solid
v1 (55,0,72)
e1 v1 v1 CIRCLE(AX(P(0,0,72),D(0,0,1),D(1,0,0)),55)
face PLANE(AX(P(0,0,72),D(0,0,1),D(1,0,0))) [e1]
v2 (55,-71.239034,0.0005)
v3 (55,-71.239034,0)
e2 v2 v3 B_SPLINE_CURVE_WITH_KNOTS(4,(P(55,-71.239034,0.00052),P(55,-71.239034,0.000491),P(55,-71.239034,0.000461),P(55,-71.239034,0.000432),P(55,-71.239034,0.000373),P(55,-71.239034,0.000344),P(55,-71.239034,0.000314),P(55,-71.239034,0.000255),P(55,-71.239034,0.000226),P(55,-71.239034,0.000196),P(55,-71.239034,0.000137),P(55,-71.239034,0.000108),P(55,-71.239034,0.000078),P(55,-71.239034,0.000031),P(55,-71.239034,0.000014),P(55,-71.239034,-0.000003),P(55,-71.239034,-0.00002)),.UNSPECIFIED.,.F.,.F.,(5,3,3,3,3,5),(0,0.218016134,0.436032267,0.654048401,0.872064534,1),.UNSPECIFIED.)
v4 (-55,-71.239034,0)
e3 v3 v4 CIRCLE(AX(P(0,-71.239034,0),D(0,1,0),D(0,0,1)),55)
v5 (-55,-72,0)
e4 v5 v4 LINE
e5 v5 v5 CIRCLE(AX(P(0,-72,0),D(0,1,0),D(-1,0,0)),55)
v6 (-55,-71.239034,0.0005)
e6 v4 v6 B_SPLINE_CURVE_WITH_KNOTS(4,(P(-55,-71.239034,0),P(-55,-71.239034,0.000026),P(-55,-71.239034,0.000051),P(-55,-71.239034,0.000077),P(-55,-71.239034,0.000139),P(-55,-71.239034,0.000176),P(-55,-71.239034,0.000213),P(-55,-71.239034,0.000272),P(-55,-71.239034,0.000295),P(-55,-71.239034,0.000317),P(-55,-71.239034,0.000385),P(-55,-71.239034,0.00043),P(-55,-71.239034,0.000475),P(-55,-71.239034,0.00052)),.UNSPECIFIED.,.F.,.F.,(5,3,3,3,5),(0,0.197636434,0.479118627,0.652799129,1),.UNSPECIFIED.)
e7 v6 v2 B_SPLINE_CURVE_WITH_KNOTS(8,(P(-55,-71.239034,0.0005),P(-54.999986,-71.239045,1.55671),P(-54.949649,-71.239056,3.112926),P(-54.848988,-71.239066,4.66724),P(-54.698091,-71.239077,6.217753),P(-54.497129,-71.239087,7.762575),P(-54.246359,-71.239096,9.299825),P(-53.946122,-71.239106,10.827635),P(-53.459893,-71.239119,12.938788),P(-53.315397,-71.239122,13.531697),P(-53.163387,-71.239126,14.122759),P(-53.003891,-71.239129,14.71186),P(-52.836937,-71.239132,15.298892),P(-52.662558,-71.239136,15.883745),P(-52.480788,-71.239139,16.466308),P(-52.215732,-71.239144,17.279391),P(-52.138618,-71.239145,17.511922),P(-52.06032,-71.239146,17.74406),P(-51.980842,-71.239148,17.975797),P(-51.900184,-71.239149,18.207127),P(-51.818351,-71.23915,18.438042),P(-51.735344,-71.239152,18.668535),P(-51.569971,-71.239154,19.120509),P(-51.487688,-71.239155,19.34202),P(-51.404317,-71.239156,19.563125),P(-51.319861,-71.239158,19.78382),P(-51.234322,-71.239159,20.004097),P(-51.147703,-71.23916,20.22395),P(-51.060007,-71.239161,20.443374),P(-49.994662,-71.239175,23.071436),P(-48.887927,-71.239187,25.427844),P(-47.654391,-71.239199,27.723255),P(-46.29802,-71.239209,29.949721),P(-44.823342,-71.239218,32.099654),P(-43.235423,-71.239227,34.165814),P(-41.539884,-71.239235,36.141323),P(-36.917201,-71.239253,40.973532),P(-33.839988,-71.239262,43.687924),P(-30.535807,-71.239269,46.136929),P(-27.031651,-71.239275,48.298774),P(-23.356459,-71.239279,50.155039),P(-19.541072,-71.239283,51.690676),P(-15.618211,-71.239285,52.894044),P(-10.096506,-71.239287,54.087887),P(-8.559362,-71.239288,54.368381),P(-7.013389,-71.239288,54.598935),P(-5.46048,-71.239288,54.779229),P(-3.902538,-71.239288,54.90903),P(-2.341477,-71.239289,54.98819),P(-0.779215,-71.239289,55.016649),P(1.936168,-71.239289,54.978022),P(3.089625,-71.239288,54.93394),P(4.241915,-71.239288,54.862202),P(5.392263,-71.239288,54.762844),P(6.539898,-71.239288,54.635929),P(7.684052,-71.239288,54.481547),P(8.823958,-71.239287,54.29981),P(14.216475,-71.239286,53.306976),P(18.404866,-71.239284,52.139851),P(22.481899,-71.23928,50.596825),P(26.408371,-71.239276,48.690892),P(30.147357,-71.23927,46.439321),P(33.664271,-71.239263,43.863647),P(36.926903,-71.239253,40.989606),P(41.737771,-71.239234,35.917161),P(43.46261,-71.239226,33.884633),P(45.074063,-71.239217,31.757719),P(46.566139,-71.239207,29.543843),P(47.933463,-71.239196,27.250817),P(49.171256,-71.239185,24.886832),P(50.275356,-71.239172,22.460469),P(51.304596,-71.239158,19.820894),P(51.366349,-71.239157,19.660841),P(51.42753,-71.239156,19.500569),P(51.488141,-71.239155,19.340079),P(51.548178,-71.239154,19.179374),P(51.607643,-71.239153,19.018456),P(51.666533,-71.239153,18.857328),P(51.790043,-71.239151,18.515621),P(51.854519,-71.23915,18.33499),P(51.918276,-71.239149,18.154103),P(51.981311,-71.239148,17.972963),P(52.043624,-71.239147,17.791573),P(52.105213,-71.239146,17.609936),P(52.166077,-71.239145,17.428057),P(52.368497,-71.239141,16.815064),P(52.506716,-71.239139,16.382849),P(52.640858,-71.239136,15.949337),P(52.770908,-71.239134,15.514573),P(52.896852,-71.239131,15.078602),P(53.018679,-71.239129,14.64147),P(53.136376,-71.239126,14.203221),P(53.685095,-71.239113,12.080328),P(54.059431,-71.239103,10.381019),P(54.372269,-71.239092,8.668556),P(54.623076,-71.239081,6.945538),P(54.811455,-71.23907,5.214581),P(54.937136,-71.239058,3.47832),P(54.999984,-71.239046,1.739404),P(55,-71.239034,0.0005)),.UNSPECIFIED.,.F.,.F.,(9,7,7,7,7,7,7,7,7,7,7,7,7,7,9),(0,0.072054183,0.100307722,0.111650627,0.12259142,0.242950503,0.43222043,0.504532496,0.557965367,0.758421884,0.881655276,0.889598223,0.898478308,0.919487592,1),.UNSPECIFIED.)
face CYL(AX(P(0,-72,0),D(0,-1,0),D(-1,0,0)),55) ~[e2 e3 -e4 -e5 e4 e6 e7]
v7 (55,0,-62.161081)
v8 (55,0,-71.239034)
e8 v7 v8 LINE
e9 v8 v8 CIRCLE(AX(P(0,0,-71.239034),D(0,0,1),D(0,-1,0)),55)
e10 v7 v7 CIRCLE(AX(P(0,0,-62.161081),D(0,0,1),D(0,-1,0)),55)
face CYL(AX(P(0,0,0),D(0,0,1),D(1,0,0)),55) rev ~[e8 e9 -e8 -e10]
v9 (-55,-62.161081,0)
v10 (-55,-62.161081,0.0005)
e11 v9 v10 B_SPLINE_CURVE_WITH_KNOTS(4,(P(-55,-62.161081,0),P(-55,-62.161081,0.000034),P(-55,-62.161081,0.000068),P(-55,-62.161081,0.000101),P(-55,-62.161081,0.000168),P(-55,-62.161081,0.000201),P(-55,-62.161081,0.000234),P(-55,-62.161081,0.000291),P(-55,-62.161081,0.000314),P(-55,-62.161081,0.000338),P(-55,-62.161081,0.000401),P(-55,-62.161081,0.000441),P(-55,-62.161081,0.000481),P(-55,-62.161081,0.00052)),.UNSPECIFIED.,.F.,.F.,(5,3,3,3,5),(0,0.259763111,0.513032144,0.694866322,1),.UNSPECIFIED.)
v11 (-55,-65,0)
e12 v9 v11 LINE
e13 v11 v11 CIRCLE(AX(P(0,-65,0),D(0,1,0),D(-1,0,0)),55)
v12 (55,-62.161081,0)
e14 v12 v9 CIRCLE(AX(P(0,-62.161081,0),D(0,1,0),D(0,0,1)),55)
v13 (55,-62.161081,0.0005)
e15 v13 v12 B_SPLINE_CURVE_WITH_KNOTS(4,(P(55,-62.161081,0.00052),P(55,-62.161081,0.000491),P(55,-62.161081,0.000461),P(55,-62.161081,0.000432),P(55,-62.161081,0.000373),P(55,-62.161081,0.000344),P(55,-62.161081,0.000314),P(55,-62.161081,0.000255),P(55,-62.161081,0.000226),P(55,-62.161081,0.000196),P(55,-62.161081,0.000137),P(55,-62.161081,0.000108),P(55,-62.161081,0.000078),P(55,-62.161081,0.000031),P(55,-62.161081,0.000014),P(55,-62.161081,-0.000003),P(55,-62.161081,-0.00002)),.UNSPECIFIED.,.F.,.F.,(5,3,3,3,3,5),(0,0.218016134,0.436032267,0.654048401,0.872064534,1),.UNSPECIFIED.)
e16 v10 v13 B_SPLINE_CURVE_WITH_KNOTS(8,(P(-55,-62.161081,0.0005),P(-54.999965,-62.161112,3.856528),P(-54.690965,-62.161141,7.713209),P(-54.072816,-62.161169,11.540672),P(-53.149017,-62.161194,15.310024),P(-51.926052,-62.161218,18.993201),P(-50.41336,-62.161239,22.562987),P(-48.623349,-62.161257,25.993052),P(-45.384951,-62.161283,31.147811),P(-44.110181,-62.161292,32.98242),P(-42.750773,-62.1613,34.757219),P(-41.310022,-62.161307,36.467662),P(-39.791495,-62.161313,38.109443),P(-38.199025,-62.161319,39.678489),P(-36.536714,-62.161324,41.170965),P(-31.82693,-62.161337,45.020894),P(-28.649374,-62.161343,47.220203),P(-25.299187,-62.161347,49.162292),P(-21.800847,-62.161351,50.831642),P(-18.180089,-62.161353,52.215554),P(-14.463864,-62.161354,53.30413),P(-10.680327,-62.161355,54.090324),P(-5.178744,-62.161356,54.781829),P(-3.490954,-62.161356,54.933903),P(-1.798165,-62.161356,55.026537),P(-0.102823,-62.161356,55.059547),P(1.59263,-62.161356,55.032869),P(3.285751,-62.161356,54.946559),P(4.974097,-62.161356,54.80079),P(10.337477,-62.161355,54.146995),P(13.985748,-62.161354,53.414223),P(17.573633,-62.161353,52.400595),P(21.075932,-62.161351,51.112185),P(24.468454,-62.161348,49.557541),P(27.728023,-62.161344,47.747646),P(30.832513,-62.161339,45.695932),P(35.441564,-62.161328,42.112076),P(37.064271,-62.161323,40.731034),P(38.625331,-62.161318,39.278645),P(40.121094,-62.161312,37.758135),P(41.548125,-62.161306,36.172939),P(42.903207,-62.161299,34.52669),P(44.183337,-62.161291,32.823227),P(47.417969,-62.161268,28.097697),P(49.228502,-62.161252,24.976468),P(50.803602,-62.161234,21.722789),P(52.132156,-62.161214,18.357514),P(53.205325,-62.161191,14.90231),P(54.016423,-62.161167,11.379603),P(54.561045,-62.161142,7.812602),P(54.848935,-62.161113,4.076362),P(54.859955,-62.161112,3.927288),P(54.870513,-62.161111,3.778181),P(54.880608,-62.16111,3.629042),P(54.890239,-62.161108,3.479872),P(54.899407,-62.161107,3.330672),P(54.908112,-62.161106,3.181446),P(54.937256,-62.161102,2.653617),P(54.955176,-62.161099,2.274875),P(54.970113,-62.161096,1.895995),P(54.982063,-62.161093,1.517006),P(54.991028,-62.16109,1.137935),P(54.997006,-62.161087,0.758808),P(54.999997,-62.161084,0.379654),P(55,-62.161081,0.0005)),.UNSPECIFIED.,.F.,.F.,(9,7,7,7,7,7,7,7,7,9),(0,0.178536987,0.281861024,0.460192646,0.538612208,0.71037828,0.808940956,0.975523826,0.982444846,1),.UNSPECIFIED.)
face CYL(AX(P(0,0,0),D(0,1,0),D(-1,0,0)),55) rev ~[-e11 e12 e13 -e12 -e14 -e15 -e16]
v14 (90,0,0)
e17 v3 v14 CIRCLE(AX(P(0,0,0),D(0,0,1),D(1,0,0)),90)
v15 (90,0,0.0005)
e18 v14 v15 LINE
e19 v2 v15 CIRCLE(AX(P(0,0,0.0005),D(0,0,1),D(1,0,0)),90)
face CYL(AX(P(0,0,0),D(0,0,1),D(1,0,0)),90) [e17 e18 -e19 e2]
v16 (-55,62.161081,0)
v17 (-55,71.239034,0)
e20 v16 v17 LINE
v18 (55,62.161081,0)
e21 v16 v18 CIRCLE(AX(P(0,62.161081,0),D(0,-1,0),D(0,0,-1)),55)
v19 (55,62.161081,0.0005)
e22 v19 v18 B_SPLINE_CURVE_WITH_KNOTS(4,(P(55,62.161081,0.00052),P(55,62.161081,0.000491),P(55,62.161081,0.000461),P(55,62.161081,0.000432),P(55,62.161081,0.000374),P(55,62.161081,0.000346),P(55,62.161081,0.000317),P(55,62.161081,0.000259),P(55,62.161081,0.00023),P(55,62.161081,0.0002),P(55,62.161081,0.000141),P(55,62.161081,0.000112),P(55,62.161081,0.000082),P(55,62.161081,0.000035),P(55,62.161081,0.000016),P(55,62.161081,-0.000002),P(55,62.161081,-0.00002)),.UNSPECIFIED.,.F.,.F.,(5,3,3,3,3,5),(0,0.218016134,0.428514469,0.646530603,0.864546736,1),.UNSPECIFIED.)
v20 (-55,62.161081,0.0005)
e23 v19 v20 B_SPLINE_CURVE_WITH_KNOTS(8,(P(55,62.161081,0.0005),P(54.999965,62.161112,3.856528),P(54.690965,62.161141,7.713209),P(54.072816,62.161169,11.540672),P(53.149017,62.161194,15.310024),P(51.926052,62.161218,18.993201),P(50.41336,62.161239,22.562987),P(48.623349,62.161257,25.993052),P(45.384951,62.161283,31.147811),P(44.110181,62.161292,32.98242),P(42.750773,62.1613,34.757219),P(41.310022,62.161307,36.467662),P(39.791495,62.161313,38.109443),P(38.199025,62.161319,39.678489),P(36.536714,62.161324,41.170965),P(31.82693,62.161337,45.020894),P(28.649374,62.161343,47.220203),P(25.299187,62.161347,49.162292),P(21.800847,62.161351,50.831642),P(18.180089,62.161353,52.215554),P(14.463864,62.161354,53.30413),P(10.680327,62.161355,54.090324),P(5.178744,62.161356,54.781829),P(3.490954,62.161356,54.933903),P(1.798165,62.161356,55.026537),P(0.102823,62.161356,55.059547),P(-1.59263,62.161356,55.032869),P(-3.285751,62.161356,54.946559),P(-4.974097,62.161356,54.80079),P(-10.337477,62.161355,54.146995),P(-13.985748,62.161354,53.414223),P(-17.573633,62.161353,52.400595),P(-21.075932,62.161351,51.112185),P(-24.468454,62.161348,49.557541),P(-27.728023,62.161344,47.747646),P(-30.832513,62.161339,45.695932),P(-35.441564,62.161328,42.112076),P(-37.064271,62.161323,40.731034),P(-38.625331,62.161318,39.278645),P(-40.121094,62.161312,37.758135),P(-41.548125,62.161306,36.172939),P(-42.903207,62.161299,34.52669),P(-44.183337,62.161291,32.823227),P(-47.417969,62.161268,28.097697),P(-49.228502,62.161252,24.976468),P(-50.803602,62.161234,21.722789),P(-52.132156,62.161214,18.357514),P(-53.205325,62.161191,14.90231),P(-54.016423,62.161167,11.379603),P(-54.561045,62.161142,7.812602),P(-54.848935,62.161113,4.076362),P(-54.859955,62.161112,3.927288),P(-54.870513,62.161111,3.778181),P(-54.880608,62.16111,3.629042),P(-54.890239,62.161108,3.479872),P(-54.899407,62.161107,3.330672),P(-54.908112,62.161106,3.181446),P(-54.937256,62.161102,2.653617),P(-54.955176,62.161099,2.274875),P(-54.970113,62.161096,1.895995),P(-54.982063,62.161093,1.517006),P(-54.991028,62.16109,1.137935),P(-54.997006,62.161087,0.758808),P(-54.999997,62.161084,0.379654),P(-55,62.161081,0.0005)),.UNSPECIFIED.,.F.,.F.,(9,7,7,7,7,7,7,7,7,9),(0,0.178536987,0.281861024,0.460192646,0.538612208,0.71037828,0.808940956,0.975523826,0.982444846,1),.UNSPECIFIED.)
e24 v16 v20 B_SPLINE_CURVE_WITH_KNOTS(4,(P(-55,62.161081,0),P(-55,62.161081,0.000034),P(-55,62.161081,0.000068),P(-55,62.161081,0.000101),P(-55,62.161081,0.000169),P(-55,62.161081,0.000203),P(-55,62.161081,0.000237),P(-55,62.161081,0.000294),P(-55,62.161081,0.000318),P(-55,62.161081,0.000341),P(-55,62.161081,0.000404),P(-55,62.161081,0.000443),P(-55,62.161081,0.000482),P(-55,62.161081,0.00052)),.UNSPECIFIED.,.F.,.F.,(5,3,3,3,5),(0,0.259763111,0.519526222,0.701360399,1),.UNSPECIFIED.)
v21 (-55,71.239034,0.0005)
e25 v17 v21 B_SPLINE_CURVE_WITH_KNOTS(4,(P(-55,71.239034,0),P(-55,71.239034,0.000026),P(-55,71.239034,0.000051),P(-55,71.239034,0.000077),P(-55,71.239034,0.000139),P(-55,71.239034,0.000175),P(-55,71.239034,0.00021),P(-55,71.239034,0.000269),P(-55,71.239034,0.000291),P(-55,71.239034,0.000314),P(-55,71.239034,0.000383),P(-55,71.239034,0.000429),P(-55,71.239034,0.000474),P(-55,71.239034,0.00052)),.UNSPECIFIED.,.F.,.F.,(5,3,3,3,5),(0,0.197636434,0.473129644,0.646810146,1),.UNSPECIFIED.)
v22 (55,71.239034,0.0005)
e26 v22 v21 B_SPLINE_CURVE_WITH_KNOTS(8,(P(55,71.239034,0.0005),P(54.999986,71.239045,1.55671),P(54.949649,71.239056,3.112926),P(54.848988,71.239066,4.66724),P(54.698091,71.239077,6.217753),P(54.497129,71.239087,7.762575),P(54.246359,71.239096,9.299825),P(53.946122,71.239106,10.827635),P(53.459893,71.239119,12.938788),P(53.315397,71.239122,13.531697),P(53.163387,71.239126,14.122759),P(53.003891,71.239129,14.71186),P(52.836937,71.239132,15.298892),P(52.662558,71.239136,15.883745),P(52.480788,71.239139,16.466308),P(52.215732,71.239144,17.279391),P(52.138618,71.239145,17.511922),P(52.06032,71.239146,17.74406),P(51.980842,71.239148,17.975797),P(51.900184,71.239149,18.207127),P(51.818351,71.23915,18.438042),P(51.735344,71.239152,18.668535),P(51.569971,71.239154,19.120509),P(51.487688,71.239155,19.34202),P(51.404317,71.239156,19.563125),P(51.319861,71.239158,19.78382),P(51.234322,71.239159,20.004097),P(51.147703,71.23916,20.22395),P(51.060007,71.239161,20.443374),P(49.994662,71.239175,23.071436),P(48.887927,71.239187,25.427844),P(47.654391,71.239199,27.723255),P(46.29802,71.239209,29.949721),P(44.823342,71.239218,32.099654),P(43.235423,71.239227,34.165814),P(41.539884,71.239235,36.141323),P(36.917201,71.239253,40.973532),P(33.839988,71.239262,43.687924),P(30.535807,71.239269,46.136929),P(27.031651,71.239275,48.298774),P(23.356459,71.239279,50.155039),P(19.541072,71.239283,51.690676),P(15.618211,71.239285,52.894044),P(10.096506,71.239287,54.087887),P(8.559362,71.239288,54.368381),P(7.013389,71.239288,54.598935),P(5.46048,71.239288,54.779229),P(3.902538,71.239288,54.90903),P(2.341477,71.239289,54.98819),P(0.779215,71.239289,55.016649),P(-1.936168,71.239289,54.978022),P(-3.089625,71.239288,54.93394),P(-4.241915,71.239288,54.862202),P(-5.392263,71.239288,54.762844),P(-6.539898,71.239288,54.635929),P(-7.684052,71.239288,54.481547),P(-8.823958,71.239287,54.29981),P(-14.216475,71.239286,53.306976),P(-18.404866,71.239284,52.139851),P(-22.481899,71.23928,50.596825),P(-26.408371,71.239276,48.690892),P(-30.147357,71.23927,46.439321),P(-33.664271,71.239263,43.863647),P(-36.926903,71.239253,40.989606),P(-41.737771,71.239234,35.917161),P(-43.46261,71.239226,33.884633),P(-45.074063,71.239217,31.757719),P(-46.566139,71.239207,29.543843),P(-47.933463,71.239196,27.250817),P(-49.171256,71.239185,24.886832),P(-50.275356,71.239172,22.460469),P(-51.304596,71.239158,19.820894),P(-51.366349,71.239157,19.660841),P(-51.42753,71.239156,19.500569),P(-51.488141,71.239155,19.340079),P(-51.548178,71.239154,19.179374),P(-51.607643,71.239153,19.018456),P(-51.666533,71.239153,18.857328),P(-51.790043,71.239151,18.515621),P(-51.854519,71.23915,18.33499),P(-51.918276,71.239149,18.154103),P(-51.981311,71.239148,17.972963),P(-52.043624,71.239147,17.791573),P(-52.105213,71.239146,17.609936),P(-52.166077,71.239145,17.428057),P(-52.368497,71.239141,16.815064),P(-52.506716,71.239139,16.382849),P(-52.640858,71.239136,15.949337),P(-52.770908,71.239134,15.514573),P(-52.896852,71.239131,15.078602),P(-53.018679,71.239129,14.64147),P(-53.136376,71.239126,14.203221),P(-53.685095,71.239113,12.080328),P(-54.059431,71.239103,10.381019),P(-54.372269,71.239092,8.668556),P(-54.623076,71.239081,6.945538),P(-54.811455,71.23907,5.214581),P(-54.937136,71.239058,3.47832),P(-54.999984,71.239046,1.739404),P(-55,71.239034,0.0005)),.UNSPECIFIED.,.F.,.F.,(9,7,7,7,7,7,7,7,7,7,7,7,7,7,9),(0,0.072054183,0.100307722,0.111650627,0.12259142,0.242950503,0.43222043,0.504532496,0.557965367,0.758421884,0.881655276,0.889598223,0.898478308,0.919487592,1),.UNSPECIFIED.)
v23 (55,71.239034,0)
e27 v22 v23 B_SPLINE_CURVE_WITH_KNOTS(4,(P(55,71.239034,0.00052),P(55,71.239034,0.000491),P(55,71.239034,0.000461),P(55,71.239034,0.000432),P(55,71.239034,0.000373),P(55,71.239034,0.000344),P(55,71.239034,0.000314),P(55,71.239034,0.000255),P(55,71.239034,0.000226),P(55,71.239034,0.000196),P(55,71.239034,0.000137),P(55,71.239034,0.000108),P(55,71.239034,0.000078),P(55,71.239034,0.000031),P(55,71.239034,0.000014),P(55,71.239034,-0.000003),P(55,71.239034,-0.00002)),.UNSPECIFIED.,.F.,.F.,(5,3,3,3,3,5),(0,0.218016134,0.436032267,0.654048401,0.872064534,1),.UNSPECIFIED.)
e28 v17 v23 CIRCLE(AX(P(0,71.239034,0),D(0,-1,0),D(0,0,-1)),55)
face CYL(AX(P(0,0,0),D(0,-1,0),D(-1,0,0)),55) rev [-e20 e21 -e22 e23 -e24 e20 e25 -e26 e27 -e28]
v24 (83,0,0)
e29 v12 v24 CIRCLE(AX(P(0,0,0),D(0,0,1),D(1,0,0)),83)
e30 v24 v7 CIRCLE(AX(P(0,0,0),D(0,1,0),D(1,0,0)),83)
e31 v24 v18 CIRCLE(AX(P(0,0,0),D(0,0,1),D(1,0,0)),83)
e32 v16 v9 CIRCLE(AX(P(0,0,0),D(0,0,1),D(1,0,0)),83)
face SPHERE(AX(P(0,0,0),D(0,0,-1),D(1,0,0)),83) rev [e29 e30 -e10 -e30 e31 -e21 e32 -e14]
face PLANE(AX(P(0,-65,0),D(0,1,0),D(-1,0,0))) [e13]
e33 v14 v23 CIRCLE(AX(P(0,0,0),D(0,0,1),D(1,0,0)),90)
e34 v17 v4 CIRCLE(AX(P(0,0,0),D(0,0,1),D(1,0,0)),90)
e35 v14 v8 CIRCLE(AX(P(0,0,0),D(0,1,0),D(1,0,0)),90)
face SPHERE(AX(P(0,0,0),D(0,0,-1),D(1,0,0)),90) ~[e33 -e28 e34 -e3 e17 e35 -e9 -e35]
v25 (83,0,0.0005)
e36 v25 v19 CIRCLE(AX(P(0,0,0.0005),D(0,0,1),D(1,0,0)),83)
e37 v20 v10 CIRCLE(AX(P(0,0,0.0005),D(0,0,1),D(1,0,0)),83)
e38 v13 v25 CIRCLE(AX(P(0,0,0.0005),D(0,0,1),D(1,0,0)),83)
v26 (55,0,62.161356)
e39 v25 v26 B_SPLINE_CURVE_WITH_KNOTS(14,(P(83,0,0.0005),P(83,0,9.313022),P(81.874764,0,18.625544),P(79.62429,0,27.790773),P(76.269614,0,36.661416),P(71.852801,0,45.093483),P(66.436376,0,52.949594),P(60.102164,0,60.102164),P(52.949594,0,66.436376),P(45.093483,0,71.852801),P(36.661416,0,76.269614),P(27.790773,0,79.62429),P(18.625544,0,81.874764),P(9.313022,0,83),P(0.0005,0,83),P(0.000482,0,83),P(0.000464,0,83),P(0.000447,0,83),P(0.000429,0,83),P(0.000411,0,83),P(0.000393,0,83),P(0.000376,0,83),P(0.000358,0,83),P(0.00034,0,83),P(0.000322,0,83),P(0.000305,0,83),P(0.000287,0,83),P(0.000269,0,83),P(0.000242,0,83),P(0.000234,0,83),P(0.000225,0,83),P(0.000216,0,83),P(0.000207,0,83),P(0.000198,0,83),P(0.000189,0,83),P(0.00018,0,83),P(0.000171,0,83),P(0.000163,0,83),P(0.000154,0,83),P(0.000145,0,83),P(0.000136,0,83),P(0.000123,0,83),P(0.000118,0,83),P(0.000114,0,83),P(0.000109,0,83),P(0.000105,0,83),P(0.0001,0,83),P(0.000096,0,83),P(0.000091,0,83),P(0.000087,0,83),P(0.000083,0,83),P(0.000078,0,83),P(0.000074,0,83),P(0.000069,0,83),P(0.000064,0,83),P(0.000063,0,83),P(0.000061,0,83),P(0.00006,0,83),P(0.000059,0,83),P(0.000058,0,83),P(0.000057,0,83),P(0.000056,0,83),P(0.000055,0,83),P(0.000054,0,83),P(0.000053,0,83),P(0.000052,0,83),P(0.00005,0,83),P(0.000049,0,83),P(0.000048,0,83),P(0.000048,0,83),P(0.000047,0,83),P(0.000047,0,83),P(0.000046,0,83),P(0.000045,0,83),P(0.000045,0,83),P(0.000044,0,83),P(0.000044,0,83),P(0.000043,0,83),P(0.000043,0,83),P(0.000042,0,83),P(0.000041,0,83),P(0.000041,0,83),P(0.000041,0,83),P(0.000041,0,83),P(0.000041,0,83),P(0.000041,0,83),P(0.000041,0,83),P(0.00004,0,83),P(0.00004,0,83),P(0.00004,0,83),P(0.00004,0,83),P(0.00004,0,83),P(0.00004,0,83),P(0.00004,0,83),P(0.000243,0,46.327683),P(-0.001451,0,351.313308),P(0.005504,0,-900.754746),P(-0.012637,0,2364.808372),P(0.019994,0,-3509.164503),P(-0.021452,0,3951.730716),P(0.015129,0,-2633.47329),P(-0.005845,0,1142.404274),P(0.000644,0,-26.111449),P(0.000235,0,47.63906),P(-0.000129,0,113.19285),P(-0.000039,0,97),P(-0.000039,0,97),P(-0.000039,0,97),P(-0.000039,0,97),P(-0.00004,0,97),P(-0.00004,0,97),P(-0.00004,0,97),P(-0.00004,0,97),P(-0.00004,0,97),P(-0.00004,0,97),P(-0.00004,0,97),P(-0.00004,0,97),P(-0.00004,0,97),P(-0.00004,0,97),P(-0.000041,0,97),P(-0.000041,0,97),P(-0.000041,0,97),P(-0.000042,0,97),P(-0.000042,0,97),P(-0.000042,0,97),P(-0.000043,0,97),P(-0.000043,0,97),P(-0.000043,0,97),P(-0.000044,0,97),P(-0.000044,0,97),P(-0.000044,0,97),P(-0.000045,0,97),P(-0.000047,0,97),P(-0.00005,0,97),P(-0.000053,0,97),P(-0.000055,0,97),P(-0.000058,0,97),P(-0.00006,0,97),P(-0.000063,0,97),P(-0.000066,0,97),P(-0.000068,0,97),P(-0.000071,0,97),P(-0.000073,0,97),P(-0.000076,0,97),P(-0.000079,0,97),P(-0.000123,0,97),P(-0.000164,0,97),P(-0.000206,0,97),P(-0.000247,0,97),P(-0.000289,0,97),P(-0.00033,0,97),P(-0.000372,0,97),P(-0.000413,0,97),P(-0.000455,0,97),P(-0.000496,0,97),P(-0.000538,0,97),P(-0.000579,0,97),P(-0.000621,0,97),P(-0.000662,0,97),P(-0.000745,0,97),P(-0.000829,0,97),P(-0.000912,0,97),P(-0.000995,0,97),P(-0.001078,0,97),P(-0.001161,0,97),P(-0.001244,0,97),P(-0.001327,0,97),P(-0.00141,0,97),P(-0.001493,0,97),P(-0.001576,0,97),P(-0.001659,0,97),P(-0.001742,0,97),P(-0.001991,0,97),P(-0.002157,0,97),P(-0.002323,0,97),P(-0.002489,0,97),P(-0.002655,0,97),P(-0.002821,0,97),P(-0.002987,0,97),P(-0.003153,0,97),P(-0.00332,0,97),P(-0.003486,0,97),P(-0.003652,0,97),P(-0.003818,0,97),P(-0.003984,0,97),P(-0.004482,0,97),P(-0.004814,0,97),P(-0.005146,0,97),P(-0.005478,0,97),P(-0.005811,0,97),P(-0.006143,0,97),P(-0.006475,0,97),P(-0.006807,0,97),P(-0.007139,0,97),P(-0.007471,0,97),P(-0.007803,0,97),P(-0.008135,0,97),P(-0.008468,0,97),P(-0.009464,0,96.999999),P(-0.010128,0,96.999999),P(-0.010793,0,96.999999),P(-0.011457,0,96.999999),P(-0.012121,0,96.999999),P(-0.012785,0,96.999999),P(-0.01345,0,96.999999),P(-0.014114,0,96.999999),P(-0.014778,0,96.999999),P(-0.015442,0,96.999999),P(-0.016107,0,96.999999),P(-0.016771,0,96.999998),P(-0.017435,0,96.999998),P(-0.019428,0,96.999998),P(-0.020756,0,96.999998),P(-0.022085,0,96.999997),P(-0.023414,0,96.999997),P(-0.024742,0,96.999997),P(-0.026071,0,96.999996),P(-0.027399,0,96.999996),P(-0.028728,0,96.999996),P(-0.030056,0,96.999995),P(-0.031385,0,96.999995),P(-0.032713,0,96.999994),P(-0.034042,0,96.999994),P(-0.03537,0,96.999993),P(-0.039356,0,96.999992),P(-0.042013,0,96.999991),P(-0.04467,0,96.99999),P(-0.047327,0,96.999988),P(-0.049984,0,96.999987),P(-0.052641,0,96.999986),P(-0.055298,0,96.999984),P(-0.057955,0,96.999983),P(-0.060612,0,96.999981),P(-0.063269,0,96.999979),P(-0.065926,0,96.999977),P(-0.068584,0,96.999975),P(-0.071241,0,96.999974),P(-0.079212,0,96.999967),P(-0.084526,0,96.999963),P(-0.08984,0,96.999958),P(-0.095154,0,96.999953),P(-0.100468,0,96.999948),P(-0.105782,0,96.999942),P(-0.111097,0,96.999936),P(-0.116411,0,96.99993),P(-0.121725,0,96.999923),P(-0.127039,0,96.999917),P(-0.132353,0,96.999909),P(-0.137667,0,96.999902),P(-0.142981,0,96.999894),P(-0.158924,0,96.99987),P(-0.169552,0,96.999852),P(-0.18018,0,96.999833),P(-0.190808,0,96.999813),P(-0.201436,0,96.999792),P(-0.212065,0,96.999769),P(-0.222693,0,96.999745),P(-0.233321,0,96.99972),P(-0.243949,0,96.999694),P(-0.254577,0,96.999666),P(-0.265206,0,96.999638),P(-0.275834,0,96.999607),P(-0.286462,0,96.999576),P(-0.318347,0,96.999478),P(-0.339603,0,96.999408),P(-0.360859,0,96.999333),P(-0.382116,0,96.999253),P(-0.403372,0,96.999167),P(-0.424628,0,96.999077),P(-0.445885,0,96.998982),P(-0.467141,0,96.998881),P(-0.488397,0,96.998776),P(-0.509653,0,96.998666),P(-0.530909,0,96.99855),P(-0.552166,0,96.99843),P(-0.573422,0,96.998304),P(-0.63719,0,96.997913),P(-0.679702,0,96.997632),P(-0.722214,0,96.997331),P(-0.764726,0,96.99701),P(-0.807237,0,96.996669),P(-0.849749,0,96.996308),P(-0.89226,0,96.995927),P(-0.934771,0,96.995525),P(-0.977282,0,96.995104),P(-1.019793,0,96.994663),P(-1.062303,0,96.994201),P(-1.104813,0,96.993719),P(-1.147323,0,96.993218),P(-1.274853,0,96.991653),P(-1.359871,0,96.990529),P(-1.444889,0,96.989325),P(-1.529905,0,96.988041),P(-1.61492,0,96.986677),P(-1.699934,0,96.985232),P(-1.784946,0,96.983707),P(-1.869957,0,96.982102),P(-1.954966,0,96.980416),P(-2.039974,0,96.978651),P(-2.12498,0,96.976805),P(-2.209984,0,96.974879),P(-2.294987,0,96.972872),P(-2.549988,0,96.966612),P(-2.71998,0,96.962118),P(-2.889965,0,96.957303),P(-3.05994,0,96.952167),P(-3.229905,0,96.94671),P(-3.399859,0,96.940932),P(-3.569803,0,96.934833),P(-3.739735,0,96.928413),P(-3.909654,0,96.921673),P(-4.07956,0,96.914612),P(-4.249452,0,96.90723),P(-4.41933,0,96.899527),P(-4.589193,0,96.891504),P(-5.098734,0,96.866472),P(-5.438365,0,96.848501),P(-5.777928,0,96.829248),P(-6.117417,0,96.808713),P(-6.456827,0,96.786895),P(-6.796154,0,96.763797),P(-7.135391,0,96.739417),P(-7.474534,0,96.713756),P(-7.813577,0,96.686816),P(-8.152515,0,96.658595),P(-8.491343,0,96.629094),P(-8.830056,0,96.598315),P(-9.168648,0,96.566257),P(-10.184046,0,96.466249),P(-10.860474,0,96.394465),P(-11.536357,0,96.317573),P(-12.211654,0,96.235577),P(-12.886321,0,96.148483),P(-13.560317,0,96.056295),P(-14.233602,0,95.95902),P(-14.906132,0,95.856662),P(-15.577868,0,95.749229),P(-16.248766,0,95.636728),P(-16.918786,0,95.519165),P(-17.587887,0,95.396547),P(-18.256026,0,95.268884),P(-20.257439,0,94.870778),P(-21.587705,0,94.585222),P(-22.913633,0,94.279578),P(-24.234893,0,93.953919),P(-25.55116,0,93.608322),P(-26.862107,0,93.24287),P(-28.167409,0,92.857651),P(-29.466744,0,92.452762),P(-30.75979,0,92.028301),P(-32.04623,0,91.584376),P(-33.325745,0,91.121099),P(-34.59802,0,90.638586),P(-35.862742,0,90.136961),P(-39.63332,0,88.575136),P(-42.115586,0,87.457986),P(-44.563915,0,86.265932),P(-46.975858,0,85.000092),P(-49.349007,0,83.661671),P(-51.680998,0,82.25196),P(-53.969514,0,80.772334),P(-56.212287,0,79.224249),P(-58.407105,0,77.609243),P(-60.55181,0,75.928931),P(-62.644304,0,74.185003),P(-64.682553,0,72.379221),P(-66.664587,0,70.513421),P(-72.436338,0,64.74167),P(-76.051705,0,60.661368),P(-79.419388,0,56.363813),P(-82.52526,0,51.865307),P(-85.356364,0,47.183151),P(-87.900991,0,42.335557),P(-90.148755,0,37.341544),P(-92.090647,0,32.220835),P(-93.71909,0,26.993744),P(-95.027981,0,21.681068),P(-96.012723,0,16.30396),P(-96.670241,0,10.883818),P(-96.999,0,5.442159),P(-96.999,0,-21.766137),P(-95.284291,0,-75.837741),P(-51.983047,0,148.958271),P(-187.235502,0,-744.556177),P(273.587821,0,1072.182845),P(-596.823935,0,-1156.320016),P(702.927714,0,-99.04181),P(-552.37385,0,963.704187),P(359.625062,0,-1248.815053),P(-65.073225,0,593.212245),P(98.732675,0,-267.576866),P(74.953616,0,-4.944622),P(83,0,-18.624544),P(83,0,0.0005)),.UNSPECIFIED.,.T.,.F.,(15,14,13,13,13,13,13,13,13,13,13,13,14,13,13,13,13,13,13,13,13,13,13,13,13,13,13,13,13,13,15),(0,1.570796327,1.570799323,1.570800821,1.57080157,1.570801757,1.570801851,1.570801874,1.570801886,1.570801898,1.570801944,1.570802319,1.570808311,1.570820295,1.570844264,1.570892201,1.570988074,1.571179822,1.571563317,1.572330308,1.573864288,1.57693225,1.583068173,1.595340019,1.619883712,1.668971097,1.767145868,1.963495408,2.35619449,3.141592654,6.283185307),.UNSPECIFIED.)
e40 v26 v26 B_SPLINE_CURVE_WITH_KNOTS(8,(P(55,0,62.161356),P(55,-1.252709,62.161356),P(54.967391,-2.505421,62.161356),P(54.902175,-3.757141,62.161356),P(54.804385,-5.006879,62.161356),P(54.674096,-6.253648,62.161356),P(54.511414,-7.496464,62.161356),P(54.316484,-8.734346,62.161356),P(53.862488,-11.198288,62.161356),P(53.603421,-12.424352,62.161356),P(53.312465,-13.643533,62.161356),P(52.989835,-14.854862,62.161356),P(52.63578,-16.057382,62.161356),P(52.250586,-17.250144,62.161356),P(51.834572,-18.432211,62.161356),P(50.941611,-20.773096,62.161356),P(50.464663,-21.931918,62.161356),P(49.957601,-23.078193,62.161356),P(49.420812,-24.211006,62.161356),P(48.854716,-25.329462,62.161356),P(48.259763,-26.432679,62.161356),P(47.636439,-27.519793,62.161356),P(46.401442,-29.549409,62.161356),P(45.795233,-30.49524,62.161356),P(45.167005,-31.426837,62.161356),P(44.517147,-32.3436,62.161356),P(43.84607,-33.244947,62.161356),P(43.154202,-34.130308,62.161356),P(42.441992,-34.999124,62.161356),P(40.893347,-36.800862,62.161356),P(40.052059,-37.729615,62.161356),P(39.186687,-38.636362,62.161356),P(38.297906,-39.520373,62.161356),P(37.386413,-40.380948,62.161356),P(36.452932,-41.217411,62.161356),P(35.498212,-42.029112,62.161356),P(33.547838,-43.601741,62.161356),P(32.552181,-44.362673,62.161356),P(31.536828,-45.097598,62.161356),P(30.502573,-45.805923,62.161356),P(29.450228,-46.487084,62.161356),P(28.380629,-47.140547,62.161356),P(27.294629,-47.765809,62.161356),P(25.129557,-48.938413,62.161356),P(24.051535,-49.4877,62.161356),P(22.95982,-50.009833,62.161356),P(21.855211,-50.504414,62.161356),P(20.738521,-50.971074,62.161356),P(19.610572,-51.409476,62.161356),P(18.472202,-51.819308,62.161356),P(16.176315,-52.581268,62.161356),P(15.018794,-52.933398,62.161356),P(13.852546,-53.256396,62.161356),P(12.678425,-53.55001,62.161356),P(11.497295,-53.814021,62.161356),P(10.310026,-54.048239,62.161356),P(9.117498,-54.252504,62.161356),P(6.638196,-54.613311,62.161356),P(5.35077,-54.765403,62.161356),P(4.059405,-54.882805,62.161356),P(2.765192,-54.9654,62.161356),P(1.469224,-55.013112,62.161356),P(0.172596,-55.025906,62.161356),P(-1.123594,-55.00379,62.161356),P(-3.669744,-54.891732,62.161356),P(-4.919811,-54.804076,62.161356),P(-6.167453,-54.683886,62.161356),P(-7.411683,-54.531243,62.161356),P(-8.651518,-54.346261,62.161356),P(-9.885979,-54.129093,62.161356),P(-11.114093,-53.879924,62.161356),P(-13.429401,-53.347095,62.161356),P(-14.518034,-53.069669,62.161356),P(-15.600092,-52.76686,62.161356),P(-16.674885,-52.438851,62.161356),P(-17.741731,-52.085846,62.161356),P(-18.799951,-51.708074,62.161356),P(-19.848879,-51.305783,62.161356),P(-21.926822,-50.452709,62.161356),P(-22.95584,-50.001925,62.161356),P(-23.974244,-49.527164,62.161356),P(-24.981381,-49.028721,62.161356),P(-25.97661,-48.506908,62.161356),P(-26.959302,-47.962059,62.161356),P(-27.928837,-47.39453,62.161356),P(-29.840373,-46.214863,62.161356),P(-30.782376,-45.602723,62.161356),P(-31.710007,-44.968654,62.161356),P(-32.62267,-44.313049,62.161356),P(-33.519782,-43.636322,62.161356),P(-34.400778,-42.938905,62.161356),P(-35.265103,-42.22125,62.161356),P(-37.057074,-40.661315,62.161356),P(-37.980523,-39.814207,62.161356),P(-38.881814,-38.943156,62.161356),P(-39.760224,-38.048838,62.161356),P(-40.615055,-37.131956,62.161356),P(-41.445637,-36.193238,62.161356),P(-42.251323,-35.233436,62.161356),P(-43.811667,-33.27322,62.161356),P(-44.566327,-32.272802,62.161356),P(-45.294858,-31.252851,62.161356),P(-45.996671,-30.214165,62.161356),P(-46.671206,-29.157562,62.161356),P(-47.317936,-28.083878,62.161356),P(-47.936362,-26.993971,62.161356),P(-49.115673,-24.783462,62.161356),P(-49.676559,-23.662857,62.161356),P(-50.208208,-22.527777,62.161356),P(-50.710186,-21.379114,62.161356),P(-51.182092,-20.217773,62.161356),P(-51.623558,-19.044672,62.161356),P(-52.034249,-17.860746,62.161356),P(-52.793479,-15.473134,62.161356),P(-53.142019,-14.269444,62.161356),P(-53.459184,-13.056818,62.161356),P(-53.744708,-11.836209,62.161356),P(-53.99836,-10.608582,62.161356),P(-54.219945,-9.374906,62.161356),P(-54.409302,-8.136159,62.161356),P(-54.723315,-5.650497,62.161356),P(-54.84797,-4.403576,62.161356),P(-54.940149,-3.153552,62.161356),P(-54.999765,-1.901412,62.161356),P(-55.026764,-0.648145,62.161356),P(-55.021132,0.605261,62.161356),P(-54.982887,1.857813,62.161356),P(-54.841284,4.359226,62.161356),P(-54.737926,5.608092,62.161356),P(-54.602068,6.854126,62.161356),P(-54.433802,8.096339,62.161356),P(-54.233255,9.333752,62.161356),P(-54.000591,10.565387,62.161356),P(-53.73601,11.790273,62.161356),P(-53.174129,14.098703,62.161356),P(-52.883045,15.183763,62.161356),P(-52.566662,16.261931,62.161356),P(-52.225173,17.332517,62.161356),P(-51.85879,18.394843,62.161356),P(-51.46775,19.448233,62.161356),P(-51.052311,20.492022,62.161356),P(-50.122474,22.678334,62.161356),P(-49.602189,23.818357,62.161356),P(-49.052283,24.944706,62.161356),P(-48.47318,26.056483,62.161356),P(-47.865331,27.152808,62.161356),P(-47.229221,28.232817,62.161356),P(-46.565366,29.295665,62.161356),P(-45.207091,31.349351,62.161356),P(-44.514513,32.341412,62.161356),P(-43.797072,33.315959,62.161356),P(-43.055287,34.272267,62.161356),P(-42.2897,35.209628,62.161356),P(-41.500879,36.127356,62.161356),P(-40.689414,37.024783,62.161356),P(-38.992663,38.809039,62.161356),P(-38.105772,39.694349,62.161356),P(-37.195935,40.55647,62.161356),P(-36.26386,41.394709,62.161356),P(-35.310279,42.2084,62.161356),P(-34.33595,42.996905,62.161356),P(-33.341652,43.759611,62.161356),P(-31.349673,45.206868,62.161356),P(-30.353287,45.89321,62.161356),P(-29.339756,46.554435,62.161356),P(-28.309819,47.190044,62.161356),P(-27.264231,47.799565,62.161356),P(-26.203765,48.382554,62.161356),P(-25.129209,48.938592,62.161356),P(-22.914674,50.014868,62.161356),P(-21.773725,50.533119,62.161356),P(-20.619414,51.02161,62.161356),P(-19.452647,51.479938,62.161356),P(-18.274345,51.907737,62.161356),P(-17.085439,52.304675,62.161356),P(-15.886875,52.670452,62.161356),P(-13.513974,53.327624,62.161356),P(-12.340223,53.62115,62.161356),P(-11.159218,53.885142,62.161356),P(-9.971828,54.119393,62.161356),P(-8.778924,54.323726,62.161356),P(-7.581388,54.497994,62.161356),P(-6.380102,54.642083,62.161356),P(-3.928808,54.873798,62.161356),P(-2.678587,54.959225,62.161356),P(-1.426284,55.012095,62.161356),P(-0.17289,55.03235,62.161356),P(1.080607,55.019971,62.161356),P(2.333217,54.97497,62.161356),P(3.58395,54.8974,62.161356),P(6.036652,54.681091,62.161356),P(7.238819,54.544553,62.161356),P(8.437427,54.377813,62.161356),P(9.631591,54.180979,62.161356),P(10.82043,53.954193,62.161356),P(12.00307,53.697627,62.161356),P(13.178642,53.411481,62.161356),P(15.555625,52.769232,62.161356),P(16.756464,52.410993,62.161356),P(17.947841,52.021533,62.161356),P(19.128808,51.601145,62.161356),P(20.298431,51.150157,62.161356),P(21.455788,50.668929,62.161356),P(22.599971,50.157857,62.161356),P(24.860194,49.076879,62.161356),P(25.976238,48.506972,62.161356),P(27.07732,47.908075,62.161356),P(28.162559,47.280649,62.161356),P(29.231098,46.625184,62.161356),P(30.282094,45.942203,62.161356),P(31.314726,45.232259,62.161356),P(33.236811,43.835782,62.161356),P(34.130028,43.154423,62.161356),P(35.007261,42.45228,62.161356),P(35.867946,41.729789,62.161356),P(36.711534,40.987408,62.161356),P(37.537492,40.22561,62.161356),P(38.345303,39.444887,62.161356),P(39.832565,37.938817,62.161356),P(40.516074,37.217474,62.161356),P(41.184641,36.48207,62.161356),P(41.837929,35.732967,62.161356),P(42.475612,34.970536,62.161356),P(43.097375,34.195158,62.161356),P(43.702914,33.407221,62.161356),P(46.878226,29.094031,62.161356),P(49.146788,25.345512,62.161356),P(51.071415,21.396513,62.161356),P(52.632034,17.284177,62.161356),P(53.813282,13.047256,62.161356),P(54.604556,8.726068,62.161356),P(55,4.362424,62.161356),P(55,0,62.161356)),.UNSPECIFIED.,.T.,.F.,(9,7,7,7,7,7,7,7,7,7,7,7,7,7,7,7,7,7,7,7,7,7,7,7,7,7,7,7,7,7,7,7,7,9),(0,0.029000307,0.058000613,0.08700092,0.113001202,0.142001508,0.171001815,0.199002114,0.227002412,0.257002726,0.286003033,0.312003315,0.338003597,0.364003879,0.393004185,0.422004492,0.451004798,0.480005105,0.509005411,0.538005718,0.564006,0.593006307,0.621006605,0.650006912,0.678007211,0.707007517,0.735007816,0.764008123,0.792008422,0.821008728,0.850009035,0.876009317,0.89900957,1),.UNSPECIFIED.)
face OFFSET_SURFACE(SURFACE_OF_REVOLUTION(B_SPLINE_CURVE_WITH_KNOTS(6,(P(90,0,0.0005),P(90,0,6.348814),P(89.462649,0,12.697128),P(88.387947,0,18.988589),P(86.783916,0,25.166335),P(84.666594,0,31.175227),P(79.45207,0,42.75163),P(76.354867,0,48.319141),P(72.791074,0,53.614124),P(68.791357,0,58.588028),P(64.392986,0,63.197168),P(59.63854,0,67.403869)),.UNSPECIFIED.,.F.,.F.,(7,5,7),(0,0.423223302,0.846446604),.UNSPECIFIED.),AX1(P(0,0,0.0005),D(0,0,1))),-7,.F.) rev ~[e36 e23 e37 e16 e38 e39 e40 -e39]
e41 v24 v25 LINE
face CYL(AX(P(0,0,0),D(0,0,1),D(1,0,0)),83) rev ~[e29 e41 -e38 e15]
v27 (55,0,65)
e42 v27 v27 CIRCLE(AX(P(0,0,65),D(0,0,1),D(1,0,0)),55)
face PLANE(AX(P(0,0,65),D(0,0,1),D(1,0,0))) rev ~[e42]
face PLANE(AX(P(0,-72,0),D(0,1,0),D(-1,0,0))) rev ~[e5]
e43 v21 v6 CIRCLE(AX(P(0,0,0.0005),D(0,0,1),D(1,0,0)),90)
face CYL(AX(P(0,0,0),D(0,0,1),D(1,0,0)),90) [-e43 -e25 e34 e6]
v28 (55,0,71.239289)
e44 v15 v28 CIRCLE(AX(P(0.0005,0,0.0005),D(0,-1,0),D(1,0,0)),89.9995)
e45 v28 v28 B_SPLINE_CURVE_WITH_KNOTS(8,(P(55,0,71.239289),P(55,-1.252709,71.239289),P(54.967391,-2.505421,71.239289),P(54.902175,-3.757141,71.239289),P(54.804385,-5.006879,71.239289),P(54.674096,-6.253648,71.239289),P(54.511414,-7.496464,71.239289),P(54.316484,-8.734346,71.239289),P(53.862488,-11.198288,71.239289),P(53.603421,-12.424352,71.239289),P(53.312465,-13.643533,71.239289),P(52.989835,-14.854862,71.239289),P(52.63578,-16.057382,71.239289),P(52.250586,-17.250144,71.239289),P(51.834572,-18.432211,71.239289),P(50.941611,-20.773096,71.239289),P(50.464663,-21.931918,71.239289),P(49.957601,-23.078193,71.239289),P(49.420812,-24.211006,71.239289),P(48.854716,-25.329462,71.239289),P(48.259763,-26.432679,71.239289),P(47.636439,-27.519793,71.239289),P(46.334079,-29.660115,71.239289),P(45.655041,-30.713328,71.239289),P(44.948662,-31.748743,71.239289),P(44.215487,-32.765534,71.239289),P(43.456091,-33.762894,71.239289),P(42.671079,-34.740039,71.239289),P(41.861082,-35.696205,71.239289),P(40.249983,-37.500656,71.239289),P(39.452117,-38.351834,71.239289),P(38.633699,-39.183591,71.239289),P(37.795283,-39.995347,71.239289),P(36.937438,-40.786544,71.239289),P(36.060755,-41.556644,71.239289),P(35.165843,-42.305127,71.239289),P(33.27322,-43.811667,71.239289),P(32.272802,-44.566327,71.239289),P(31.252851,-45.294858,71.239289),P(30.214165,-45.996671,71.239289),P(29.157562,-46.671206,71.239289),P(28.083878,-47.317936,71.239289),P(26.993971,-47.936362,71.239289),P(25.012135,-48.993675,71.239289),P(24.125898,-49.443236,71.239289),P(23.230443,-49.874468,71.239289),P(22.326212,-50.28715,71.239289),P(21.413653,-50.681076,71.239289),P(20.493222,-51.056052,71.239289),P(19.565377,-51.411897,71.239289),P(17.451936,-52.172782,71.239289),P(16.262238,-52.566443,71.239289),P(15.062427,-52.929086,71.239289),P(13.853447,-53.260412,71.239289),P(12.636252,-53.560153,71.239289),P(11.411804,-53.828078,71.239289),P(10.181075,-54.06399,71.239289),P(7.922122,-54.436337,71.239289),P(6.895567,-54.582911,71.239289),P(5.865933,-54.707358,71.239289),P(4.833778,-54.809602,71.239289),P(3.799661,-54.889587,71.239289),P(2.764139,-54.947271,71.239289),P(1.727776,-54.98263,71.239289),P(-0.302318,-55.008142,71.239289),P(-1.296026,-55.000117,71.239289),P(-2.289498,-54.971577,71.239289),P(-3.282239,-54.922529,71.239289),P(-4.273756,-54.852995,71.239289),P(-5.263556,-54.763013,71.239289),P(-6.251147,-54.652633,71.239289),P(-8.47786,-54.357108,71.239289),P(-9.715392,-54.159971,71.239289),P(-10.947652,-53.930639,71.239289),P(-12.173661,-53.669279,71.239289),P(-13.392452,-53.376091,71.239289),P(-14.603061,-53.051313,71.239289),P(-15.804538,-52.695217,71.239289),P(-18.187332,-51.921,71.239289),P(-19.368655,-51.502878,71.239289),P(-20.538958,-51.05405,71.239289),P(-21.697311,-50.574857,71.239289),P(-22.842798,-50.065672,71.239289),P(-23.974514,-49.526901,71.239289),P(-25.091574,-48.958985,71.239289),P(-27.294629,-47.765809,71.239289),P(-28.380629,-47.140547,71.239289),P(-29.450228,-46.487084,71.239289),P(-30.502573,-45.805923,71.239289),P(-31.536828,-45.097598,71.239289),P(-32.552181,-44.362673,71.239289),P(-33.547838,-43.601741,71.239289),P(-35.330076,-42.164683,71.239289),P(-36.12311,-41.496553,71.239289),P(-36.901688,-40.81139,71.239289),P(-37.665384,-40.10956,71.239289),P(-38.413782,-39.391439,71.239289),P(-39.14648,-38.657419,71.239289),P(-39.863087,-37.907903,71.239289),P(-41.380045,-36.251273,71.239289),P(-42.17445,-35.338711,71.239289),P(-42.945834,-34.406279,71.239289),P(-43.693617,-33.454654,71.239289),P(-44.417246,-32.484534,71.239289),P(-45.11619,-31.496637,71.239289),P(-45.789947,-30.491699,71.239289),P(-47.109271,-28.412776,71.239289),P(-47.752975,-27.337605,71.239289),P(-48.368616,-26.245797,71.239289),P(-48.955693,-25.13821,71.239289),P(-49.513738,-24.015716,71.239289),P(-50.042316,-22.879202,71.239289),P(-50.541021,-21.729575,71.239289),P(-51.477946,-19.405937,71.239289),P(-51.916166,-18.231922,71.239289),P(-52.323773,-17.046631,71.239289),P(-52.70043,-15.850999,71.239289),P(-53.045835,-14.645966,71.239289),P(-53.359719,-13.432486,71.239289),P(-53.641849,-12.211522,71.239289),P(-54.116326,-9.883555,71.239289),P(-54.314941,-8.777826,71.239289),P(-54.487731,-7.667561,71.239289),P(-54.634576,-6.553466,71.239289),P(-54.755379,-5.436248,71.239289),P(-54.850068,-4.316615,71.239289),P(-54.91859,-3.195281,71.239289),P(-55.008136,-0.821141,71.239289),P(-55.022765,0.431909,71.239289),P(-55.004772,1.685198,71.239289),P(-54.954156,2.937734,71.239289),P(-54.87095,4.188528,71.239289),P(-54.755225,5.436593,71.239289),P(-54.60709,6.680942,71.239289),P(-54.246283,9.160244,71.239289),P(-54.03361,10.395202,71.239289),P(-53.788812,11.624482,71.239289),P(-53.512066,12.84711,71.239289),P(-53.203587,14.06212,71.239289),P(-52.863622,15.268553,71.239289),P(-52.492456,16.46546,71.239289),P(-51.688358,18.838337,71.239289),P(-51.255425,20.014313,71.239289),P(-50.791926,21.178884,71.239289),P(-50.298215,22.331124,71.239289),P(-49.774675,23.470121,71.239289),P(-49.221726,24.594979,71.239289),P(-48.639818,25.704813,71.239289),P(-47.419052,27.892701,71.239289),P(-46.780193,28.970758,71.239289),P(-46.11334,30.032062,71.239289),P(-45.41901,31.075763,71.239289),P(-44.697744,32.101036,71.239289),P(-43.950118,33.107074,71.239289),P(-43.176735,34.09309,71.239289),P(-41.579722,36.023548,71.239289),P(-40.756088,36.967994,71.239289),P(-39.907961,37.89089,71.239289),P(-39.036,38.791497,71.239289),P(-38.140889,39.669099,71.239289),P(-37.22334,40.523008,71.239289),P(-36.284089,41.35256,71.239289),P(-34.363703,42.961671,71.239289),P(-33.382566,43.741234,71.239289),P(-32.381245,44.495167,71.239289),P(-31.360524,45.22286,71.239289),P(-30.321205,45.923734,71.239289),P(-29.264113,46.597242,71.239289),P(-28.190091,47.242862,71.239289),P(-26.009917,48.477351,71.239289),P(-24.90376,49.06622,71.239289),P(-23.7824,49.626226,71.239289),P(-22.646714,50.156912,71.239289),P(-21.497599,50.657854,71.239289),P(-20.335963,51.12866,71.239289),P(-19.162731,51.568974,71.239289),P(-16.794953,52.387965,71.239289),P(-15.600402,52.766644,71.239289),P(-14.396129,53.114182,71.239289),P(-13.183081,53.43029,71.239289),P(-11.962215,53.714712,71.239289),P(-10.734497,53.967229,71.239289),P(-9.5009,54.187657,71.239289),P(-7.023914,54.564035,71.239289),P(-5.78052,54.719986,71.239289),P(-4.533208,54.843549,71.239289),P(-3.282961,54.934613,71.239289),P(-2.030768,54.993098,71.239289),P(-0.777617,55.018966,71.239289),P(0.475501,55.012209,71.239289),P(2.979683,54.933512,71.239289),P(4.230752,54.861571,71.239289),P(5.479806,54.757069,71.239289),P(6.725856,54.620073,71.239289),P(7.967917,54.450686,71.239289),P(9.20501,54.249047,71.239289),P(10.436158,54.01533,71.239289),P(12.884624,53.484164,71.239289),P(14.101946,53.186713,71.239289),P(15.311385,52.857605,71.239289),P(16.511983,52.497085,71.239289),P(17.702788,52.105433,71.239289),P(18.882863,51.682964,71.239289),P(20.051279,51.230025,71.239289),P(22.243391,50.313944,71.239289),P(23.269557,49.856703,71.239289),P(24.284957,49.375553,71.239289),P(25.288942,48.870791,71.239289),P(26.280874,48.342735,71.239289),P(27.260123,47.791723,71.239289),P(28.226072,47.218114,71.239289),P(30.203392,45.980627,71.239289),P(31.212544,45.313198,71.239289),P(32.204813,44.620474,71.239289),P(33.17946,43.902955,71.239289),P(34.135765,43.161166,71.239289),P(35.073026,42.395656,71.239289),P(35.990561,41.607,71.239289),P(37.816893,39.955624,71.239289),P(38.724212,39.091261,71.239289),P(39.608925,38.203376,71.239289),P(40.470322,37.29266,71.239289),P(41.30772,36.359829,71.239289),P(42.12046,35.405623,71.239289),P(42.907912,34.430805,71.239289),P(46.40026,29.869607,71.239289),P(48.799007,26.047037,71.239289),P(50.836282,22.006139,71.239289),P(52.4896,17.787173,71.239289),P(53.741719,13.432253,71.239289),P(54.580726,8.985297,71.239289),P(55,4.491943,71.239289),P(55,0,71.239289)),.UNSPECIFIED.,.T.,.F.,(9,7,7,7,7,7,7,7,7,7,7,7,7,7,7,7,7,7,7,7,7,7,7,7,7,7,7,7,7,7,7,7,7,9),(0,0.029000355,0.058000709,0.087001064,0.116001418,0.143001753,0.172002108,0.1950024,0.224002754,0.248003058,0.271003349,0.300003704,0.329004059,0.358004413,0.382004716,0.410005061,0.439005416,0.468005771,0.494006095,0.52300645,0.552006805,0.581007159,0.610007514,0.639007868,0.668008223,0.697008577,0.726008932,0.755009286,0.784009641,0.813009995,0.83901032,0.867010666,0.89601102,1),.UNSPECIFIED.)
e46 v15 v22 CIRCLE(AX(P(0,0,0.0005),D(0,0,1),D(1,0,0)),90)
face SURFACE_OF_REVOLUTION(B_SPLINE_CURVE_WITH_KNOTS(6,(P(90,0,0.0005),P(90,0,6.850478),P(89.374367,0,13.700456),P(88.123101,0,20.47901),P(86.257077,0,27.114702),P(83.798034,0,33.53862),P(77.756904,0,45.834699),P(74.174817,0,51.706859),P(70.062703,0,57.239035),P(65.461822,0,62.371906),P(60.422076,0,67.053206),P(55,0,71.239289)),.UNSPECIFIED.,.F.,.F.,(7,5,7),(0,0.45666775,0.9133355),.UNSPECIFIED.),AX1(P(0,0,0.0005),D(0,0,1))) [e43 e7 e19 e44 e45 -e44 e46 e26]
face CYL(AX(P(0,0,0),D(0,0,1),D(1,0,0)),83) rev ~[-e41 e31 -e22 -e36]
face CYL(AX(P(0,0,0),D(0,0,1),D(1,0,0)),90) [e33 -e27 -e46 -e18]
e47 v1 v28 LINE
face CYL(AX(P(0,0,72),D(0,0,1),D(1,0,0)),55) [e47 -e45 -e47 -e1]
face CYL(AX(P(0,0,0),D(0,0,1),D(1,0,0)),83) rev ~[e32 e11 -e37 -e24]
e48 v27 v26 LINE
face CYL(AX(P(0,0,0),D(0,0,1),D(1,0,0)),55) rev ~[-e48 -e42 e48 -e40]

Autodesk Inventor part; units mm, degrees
ref_plane "YZ Plane" through (0, 0, 0) normal (1, 0, 0) x (0, 1, 0)
sketch "Sketch1" plane through (0, 0, 0) normal (0, 0, 1) x (1, 0, 0)
  circle A0 centre (0, 0) radius 90
  dimension "d0" = 180
sketch "Sketch2" plane through (0, 0, 0) normal (1, 0, 0) x (0, 1, 0)
  line L0 (0, 0) -> (0, 72)
  dimension "d1" = 72
extrude "Extrusion1" add sketch "Sketch1" along normal blind 90
fillet "Fillet1" radius 90 1 edges at (-90, 0, 90)
sketch "Sketch3" plane through (0, 0, 0) normal (0, 0, 1) x (1, 0, 0)
  line L0 (0, 0) -> (-37.0105, 0)
mirror "Mirror3" about plane through (0, 0, 0) normal (0, 0, 1) of "Extrusion1", "Fillet1"
sketch "Sketch5" plane through (0, 0, 0) normal (0, 0, 1) x (1, 0, 0)
  circle A0 centre (0, 0) radius 55
  dimension "d9" = 110
extrude "Extrusion3" cut sketch "Sketch5" along normal through all both and the other way through all
shell "Shell2" thickness 7 removed faces 1 at (44.4771, 32.3541, 23.7465)
sketch "Sketch4" plane through (0, 0, 0) normal (0, 1, 0) x (-1, 0, 0)
  circle A0 centre (0, 0) radius 55
  dimension "d6" = 110
extrude "Extrusion2" cut sketch "Sketch4" along normal through all both and the other way through all
ref_plane "Work Plane2" through (0, 0, 72) normal (0, 0, 1) x (1, 0, 0)
sketch "Sketch7" plane through (0, 0, 72) normal (0, 0, 1) x (1, 0, 0)
  circle A0 centre (0, 0) radius 55
  dimension "d13" = 110
extrude "Extrusion4" add sketch "Sketch7" against normal blind 7
sketch "Sketch8" plane through (0, 0, 0) normal (1, 0, 0) x (0, 1, 0)
  point P0 (0, 0)
sketch "Sketch9" plane through (0, 0, 0) normal (1, 0, 0) x (0, 1, 0)
  line L0 (0, 0) -> (-72, 0)
  dimension "d16" = 72
ref_plane "Work Plane3" through (0, -72, 0) normal (0, 1, 0) x (-1, 0, 0)
sketch "Sketch10" plane through (0, -72, 0) normal (0, 1, 0) x (-1, 0, 0)
  circle A0 centre (0, 0) radius 55
  dimension "d17" = 110
extrude "Extrusion5" add sketch "Sketch10" along normal blind 7
properties part number "round brain shell"
